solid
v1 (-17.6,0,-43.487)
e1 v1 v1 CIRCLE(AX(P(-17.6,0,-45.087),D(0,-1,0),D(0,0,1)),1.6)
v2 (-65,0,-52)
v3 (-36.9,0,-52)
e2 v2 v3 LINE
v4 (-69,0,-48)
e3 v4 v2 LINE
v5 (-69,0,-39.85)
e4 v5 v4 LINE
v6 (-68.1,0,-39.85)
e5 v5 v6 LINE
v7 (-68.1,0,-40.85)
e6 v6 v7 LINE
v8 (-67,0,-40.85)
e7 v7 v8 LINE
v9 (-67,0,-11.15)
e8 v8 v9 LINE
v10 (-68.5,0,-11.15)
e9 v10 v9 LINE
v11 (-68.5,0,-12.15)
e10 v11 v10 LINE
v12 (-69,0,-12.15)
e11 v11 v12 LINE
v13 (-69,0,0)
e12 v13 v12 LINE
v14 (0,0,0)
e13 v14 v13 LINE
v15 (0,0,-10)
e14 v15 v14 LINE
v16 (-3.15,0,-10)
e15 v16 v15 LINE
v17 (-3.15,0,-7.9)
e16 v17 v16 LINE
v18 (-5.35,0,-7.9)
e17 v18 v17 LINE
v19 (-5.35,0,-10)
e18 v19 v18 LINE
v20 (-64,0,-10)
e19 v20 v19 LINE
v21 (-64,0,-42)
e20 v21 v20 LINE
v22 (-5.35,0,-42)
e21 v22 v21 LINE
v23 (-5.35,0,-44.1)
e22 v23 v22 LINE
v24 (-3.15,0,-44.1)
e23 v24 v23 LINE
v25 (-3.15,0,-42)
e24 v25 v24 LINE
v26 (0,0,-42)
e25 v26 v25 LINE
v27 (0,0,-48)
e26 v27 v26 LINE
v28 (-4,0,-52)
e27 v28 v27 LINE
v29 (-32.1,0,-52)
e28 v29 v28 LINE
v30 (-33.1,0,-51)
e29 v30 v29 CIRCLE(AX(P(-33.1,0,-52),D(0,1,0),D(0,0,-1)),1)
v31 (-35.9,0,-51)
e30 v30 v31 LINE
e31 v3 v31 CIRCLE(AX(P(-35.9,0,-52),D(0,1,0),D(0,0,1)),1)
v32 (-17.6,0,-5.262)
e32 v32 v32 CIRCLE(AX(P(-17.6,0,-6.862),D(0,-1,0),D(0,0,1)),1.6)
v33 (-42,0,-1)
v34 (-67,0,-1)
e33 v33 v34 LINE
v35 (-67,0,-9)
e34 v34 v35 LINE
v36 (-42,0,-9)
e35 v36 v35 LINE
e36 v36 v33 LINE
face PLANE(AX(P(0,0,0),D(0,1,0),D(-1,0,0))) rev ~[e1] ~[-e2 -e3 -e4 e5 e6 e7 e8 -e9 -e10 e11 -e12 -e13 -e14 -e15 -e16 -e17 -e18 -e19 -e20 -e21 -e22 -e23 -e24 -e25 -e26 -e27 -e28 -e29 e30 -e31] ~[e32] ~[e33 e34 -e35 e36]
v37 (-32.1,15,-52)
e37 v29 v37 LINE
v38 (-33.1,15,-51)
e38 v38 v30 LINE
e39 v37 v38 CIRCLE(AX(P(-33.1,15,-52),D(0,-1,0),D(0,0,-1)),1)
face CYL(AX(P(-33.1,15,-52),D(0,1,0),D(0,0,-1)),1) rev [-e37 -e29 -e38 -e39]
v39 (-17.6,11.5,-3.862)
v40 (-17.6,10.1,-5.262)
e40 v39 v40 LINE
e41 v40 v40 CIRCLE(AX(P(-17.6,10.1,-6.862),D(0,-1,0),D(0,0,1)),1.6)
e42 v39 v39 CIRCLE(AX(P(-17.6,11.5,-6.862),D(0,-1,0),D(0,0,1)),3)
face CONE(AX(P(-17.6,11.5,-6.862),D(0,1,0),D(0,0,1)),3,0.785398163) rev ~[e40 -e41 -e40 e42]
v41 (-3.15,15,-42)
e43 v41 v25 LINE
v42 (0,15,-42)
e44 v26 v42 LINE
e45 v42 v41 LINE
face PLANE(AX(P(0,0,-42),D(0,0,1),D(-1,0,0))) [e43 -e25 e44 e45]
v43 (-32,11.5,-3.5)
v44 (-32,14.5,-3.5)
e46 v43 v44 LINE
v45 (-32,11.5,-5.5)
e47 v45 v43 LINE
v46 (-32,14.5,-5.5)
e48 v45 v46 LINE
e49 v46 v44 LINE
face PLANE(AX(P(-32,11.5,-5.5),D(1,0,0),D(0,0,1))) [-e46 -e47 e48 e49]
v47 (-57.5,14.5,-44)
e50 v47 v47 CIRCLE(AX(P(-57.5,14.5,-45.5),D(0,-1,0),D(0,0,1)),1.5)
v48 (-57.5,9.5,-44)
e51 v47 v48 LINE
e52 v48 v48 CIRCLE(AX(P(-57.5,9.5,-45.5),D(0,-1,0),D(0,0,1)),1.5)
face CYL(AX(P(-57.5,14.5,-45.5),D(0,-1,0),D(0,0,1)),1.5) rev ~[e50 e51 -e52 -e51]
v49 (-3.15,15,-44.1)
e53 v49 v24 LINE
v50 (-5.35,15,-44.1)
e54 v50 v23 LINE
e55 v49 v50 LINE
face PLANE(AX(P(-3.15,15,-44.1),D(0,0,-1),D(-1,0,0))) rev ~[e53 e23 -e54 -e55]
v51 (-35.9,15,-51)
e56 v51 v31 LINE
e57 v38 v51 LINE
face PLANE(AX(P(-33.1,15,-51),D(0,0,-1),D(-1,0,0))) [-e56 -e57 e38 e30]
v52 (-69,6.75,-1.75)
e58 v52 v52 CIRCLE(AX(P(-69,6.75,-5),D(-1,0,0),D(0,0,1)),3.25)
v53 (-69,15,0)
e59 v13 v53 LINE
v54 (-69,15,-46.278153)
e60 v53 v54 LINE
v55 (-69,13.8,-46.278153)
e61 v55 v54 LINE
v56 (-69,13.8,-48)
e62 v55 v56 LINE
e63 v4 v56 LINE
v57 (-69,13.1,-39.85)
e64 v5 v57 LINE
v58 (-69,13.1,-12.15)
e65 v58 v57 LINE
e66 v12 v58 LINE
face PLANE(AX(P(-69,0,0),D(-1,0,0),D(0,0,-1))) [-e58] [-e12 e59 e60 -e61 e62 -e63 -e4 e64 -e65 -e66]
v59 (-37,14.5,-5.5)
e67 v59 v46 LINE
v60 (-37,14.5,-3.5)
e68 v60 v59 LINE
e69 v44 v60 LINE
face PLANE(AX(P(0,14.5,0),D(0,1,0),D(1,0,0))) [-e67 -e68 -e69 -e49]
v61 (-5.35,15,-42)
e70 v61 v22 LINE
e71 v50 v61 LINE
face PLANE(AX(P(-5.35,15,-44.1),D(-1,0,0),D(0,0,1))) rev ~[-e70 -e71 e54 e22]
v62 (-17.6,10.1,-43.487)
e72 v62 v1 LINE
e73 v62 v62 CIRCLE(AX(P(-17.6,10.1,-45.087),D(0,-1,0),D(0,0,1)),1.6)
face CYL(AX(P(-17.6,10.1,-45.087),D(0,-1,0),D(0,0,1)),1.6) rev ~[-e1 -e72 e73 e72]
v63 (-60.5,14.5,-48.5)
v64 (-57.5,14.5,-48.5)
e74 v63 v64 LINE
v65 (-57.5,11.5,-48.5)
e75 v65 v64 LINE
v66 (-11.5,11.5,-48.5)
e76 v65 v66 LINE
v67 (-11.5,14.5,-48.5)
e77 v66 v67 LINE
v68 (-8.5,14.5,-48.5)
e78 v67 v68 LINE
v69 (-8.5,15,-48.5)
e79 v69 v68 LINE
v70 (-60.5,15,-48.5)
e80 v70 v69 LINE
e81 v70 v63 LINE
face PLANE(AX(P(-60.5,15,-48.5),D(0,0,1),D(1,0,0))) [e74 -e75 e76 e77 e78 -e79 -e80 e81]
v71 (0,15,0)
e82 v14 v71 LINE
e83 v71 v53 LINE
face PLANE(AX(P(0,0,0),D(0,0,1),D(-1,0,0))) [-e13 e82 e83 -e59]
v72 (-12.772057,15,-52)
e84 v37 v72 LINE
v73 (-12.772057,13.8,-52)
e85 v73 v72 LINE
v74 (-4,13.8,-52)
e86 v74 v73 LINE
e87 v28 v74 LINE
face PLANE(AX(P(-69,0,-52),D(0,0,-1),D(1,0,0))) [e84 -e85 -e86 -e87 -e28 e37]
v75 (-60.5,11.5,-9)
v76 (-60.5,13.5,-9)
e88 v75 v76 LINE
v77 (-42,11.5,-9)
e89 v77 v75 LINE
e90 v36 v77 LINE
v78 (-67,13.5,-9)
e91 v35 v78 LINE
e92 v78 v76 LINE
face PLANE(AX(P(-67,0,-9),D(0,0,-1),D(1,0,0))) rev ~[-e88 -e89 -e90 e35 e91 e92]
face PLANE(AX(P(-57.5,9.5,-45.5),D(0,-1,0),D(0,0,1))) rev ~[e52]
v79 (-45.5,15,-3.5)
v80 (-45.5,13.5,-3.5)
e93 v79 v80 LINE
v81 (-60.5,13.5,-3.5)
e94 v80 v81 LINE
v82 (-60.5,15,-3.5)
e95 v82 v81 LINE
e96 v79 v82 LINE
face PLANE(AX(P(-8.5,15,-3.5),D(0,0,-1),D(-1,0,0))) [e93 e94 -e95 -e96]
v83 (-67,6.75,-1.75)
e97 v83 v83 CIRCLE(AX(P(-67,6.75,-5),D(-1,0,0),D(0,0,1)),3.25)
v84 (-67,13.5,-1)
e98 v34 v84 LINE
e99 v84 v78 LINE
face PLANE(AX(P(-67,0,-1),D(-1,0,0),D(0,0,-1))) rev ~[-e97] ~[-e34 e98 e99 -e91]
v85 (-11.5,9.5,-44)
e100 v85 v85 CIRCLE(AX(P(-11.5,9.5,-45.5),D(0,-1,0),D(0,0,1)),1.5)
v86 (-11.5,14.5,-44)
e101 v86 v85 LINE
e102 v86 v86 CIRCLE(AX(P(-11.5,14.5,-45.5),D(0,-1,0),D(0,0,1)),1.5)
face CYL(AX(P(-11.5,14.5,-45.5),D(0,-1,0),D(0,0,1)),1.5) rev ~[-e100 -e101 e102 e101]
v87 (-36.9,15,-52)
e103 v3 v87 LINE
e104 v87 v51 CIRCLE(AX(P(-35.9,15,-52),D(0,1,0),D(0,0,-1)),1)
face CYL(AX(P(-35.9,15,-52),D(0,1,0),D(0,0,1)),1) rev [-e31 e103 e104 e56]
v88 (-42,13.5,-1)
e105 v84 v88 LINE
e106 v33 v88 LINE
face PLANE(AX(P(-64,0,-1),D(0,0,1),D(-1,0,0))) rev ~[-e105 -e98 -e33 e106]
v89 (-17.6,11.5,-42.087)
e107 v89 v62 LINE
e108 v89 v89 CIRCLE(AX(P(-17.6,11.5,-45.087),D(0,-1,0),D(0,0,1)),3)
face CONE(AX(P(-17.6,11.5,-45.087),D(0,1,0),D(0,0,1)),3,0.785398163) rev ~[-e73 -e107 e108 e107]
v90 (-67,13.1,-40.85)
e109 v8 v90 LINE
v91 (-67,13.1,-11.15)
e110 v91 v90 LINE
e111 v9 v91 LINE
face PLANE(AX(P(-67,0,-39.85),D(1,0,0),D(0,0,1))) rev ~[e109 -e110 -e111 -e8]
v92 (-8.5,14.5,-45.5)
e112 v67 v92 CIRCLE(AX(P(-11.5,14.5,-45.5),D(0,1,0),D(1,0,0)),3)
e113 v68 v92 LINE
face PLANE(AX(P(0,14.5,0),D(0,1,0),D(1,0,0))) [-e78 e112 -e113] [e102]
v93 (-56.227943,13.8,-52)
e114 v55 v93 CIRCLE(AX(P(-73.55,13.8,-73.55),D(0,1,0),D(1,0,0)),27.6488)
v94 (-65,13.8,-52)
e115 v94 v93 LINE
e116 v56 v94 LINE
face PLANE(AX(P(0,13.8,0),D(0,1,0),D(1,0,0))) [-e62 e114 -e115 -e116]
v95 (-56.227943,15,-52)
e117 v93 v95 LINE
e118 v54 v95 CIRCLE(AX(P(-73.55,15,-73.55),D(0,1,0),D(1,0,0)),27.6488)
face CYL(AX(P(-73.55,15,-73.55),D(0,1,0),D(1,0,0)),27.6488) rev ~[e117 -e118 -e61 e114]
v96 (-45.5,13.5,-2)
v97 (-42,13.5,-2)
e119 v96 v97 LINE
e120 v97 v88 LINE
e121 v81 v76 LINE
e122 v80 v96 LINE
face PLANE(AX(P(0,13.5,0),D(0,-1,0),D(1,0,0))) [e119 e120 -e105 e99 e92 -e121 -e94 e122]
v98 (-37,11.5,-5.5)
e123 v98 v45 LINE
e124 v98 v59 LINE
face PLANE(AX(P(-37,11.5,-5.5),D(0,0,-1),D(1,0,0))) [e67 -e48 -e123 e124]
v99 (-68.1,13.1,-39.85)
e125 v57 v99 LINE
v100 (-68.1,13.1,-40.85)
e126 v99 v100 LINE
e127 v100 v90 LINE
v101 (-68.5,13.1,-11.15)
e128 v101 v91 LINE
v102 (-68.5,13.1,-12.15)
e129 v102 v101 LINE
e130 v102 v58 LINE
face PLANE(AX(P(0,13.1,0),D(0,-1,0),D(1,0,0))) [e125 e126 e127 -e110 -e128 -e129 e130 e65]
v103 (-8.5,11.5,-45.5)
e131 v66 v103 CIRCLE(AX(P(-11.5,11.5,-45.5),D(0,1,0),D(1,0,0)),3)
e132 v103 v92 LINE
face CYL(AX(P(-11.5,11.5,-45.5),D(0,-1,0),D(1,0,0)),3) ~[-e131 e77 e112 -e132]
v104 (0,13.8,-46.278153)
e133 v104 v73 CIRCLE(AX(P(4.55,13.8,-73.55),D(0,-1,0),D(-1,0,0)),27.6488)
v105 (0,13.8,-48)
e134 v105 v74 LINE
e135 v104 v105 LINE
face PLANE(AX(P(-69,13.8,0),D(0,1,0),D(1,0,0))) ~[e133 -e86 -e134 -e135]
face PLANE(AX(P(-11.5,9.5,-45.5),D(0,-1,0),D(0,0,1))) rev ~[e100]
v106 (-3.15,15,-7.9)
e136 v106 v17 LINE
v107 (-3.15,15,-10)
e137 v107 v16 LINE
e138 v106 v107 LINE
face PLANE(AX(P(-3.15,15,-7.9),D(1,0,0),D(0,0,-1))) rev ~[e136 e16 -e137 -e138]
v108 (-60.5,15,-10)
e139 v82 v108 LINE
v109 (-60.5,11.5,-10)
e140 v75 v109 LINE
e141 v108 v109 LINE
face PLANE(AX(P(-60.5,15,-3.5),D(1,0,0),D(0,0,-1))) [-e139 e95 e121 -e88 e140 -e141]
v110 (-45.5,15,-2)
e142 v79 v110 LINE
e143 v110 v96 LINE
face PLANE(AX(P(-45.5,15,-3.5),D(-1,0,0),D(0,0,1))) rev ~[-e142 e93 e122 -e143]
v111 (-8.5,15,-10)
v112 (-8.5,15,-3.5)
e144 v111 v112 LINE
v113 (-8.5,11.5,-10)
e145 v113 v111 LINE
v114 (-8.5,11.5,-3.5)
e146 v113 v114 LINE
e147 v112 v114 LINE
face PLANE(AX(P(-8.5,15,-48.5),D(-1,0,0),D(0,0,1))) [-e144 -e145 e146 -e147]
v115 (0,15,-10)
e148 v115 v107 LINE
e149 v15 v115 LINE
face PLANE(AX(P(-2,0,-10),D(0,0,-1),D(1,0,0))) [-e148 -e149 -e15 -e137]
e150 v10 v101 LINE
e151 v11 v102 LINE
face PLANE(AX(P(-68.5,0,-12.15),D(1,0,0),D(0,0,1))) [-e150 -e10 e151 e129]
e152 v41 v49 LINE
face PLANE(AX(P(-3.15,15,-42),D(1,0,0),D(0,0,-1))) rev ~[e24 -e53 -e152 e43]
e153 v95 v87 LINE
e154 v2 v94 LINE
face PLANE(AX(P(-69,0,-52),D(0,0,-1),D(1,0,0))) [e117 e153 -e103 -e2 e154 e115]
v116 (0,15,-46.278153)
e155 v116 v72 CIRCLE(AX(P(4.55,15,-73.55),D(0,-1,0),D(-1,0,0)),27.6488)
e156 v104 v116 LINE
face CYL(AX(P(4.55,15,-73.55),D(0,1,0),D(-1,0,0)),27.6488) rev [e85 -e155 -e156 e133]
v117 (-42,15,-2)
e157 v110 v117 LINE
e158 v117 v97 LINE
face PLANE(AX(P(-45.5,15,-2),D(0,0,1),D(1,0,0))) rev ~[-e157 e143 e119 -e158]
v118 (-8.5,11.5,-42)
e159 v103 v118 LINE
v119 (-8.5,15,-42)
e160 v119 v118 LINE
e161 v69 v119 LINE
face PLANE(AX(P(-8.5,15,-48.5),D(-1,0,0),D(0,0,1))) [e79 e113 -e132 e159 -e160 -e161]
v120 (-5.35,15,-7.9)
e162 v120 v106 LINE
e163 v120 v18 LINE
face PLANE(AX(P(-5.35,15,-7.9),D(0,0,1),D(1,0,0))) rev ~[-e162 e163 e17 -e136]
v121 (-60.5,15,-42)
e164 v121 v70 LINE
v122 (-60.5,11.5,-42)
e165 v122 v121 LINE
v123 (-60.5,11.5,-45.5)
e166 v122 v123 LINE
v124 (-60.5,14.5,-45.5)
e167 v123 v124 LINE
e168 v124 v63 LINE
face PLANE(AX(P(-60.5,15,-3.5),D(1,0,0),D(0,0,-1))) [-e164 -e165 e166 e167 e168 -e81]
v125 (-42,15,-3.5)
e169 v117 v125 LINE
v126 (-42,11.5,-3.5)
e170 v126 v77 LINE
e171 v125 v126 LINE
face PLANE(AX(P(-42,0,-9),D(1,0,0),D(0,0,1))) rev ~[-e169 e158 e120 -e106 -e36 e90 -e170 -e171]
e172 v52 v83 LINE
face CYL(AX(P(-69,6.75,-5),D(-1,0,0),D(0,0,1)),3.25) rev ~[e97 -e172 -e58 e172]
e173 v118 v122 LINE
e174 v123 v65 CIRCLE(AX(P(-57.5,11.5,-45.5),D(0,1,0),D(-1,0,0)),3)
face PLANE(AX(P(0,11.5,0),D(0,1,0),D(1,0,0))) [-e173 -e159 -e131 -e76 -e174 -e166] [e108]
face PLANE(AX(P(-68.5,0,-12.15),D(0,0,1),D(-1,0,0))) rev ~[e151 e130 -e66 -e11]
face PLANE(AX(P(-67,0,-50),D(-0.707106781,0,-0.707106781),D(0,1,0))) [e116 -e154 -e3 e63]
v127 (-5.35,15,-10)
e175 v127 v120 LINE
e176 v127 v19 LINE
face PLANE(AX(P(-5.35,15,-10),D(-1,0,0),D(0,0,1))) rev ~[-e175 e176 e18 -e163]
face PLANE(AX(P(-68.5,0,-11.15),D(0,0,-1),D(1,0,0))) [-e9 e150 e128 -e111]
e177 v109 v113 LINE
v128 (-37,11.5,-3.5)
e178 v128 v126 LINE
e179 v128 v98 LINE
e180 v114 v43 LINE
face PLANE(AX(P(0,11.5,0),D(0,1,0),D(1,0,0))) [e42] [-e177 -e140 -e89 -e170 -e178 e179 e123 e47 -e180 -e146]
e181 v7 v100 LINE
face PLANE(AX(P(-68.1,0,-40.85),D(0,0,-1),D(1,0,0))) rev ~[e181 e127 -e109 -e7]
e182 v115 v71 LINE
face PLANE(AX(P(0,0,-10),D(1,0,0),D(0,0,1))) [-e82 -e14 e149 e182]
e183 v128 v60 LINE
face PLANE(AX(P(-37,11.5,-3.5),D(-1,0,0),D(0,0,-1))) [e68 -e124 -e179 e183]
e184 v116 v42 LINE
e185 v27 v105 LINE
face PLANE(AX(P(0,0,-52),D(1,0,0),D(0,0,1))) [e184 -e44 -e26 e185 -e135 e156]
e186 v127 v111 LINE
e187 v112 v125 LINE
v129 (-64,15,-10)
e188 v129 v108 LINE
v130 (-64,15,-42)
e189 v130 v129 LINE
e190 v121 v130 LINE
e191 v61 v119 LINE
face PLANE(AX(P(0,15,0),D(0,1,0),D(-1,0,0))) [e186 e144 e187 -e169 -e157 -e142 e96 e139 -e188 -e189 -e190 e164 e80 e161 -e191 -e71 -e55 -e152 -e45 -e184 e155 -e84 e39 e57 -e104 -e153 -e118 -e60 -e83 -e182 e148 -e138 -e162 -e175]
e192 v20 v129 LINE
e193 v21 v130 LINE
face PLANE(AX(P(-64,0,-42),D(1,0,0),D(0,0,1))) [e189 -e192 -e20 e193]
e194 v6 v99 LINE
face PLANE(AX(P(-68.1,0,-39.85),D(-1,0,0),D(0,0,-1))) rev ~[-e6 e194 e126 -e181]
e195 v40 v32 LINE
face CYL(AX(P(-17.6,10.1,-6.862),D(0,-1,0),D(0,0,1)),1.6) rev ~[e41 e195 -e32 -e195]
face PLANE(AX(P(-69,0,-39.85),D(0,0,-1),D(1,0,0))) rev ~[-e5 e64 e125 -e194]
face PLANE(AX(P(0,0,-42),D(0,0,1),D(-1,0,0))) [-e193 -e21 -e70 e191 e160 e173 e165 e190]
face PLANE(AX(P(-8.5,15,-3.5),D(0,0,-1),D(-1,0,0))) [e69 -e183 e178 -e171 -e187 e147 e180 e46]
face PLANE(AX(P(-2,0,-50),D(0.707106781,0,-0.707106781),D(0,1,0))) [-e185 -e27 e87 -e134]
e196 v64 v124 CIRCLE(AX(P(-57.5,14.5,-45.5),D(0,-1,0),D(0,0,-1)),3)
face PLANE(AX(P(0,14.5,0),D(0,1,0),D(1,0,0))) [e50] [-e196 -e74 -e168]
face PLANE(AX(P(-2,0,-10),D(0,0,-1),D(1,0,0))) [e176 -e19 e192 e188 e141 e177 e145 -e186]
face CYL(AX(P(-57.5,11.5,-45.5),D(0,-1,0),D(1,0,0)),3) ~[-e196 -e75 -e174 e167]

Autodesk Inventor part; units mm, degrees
ref_plane "YZ Plane" through (0, 0, 0) normal (1, 0, 0) x (0, 1, 0)
ref_plane "XZ Plane" through (0, 0, 0) normal (0, 1, 0) x (-1, 0, 0)
sketch "Эскиз1" plane through (0, 0, 0) normal (0, 1, 0) x (-1, 0, 0)
  line L0 (0, 0) -> (69, 0)
  line L1 (69, 0) -> (69, -52)
  line L2 (69, -52) -> (0, -52)
  line L3 (0, -52) -> (0, 0)
  line L4 (0, -26) -> (32, -26)
  line L5 (64, -10) -> (0, -10)
  line L6 (0, -10) -> (0, -42)
  line L7 (0, -42) -> (64, -42)
  line L8 (64, -42) -> (64, -10)
  line L9 (64, -10) -> (0, -42) construction
  line L10 (0, -10) -> (64, -42) construction
  line L11 (0, -10) -> (2, -10)
  point P0 (0, -10)
  dimension "d0" = 69
  dimension "d224" = 10
  dimension "d225" = 5
  dimension "d226" = 32
extrude "Выдавливание1" add sketch "Эскиз1" along normal blind 15 contours L0 L1 L2 L3 L7 L8 L5
sketch "Эскиз2" plane through (0, 15, 0) normal (0, 1, 0) x (1, 0, 0)
  line L0 (-8.5, 3.5) -> (-60.5, 3.5)
  line L1 (-60.5, 3.5) -> (-60.5, 48.5)
  line L2 (-60.5, 48.5) -> (-8.5, 48.5)
  line L3 (-8.5, 48.5) -> (-8.5, 3.5)
  line L4 (-8.5, 3.5) -> (-60.5, 48.5) construction
  line L5 (-60.5, 3.5) -> (-8.5, 48.5) construction
  line L6 (0, 0) -> (0, 10) projected
  line L7 (-69, 52) -> (-69, 0) projected
  line L8 (0, 52) -> (-69, 52) construction
  line L9 (0, 10) -> (0, 42) construction
  line L10 (-69, 26) -> (0, 26) construction
  point P0 (-34.5, 26)
  point P1 (-34.5, 26)
  point P2 (-60.5, 26)
  point P3 (-34.5, 26)
  dimension "d227" = 52
  dimension "d228" = 45
extrude "Выдавливание2" cut sketch "Эскиз2" against normal blind 3.5
sketch "Эскиз3" plane through (0, 11.5, 0) normal (0, 1, 0) x (1, 0, 0)
  circle A0 centre (-57.5, 45.5) radius 3
  circle A1 centre (-11.5, 45.5) radius 3
  line L0 (-60.5, 48.5) -> (-8.5, 48.5) projected
  line L1 (-8.5, 48.5) -> (-8.5, 42) projected
  line L2 (-8.5, 42) -> (-60.5, 42) projected
  line L3 (-60.5, 42) -> (-60.5, 48.5) projected
  line L4 (-60.5, 10) -> (-8.5, 10) projected
  line L5 (-8.5, 42) -> (-60.5, 42) projected
  line L6 (-8.5, 48.5) -> (-8.5, 42) projected
  line L7 (-60.5, 48.5) -> (-8.5, 48.5) projected
  line L8 (-60.5, 42) -> (-60.5, 48.5) projected
  line L9 (-60.5, 3.5) -> (-60.5, 10) projected
  line L10 (-8.5, 3.5) -> (-60.5, 3.5) projected
  line L11 (-8.5, 10) -> (-8.5, 3.5) projected
  line L12 (0, 10) -> (-64, 10) projected
  line L13 (-8.5, 3.5) -> (-60.5, 3.5) projected
  line L14 (-32, 3.5) -> (-37, 3.5)
  line L15 (-37, 3.5) -> (-37, 5.5)
  line L16 (-37, 5.5) -> (-32, 5.5)
  line L17 (-32, 5.5) -> (-32, 3.5)
  line L18 (-8.5, 3.5) -> (-60.5, 3.5) projected
  point P0 (-38, 39.1)
  point P1 (-60.5, 45.5)
  point P2 (-8.3, 39.1)
  point P3 (-5.8, 45.225)
  point P4 (-57.5, 48.5)
  point P5 (-11.5, 48.5)
  point P6 (-8.5, 42.24)
  point P7 (-8.5, 45.5)
  point P8 (-34.5, 3.5)
  dimension "d236" = 3
  dimension "d237" = 3
  dimension "d238" = 3
  dimension "d239" = 3
  dimension "d240" = 6
  dimension "d241" = 6
  dimension "d304" = 2
  dimension "d305" = 5
extrude "Выдавливание5" add sketch "Эскиз3" along normal blind 3 contours A0 | A0 L3 L0 | L0 L1 A1 | A1 | L15 L16 L17 L10
sketch "Эскиз4" plane through (-71.3, 14.5, -19.65) normal (0, 1, 0) x (0, 0, -1)
  arc A0 (25.85, -10.8) -> (28.85, -13.8) centre (25.85, -13.8) ccw projected
  arc A1 (28.85, -59.8) -> (25.85, -62.8) centre (25.85, -59.8) ccw projected
hole "Отверстие1" at (-57.5, 14.5, -45.5) at (-11.5, 14.5, -45.5) direction (0, -1, 0) diameter 3 depth 5
sketch "Эскиз32" plane through (0, 11.5, 0) normal (0, 1, 0) x (1, 0, 0)
  line L0 (-64, 10) -> (-64, 42) projected
  line L1 (-64, 47.775) -> (-43.5, 47.775) projected
  line L2 (-8.5, 3.5) -> (-60.5, 3.5) projected
  line L3 (-8.5, 10) -> (-8.5, 3.5) projected
  line L4 (-60.5, 48.5) -> (-8.5, 48.5) projected
  line L5 (-8.5, 48.5) -> (-8.5, 42) projected
  point P0 (0, 0)
  point P1 (-17.6, 6.862)
  point P2 (-5.3, 5.3)
  point P3 (-8.3, 2.3)
  point P4 (-64, 4.225)
  point P5 (-17.6, 45.087)
  dimension "d261" = 3.362
  dimension "d263" = 9.1
  dimension "d296" = 3.413
  dimension "d297" = 9.1
hole "Отверстие5" at (-17.6, 11.5, -6.862) at (-17.6, 11.5, -45.087) direction (0, -1, 0) diameter 3.2 end through all countersink diameter 6 countersink angle 90
sketch "Эскиз12" plane through (0, 15, 0) normal (0, -1, 0) x (1, 0, 0)
  line L0 (-60.5, -48.5) -> (-8.5, -48.5) projected
  line L1 (0, -52) -> (-69, -52) projected
  line L2 (-35.9, -52) -> (-33.1, -52) construction
  line L3 (-35.9, -53) -> (-33.1, -53)
  line L4 (-33.1, -51) -> (-35.9, -51)
  arc A0 (-35.9, -51) -> (-35.9, -53) centre (-35.9, -52) ccw
  arc A1 (-33.1, -53) -> (-33.1, -51) centre (-33.1, -52) ccw
  point P0 (-34.5, -52)
  dimension "d302" = 1.4
  dimension "d303" = 2
extrude "Выдавливание11" cut sketch "Эскиз12" along normal through all
sketch "Эскиз34" plane through (0, 15, 0) normal (0, 1, 0) x (1, 0, 0)
  line L0 (-5.35, 7.9) -> (-3.15, 7.9)
  line L1 (-3.15, 7.9) -> (-3.15, 10)
  line L2 (-3.15, 10) -> (-5.35, 10)
  line L3 (-5.35, 10) -> (-5.35, 7.9)
  line L4 (0, 10) -> (-8.5, 10) projected
  line L5 (-5.35, 42) -> (-3.15, 42)
  line L6 (-3.15, 42) -> (-3.15, 44.1)
  line L7 (-3.15, 44.1) -> (-5.35, 44.1)
  line L8 (-5.35, 44.1) -> (-5.35, 42)
  line L9 (-8.5, 42) -> (0, 42) projected
  point P0 (0, 0)
  point P1 (-4.25, 10)
  point P2 (-4.25, 42)
  dimension "d278" = 2.2
  dimension "d279" = 2.1
extrude "Выдавливание27" cut sketch "Эскиз34" against normal through all
sketch "Эскиз36" plane through (0, 0, 0) normal (0, -1, 0) x (1, 0, 0)
  line L0 (-64, -10) -> (-64, 0)
  line L1 (-69, 0) -> (0, 0) projected
  line L2 (-67, -9) -> (-42, -9)
  line L3 (-42, -9) -> (-42, -1)
  line L4 (-42, -1) -> (-67, -1)
  line L5 (-67, -1) -> (-67, -9)
  line L6 (-69, -52) -> (-69, 0) projected
  point P0 (-67, -5)
  point P1 (-64, -5)
  dimension "d285" = 2
  dimension "d286" = 8
  dimension "d287" = 25
extrude "Выдавливание29" cut sketch "Эскиз36" against normal blind 13.5
sketch "Эскиз37" plane through (-69, 0, -52) normal (-1, 0, 0) x (0, 0, 1)
  line L0 (43, 0) -> (51, 0) projected
  line L1 (43, 0) -> (43, 13.5) projected
  line L2 (43, 13.5) -> (51, 13.5) projected
  line L3 (51, 0) -> (51, 13.5) projected
  line L4 (43, 0) -> (43, 13.5) construction
  line L5 (43, 6.75) -> (51, 6.75) construction
  line L6 (51, 0) -> (51, 13.5) construction
  circle A0 centre (47, 6.75) radius 3.25
  point P0 (52, 0)
  dimension "d290" = 6.5
extrude "Выдавливание30" cut sketch "Эскиз37" against normal up to surface (2 mm away) contours A0
sketch "Эскиз38" plane through (0, 15, 0) normal (0, 1, 0) x (1, 0, 0)
  line L0 (-42, 3.5) -> (-45.5, 3.5)
  line L1 (-45.5, 3.5) -> (-45.5, 2)
  line L2 (-45.5, 2) -> (-42, 2)
  line L3 (-42, 2) -> (-42, 3.5)
  line L4 (-69, 0) -> (0, 0) projected
  line L5 (-42, 9) -> (-42, 3.5) projected
  dimension "d293" = 3.5
  dimension "d301" = 1.5
extrude "Выдавливание31" cut sketch "Эскиз38" against normal up to surface (1.5 mm away)
sketch "Эскиз30" plane through (0, 0, 0) normal (0, -1, 0) x (1, 0, 0)
  line L0 (-69, -39.85) -> (-67, -39.85)
  line L1 (-67, -39.85) -> (-67, -12.15)
  line L2 (-67, -12.15) -> (-69, -12.15)
  line L3 (-69, -12.15) -> (-69, -39.85)
  line L4 (-69, -52) -> (-69, 0) projected
  line L5 (-67, -39.85) -> (-68.1, -39.85)
  line L6 (-68.1, -39.85) -> (-68.1, -40.85)
  line L7 (-68.1, -40.85) -> (-67, -40.85)
  line L8 (-67, -40.85) -> (-67, -39.85)
  line L9 (-67, -12.15) -> (-68.5, -12.15)
  line L10 (-68.5, -12.15) -> (-68.5, -11.15)
  line L11 (-68.5, -11.15) -> (-67, -11.15)
  line L12 (-67, -11.15) -> (-67, -12.15)
  point P0 (0, 0)
  point P1 (-69, -26)
  point P2 (-68.5, -12.15)
  point P3 (-68.1, -39.85)
  dimension "d216" = 27.7
  dimension "d217" = 2
  dimension "d218" = 1.1
  dimension "d219" = 1
  dimension "d220" = 1.5
  dimension "d221" = 1
extrude "Выдавливание24" cut sketch "Эскиз30" against normal blind 13.1
chamfer "Фаска7" distance 4 angle 45 2 edges at (0, 7.5, -52) (-69, 7.5, -52)
sketch "Эскиз39" plane through (0, 15, 0) normal (0, 1, 0) x (1, 0, 0)
  line L0 (-69, 48) -> (-69, 0) construction
  line L1 (-69, 48) -> (-69, 73.55) construction
  line L2 (-69, 73.55) -> (-73.55, 73.55) construction
  line L3 (-73.55, 73.55) -> (-64.1507, 51.55) construction
  line L4 (-64.1507, 51.55) -> (-62.6872, 48.1245) construction
  circle A0 centre (-73.55, 73.55) radius 27.6488
  point P0 (0, 0)
  dimension "d316" = 25.55
  dimension "d317" = 4.55
  dimension "d319" = 22
  dimension "d320" = 3.725
  dimension "d321" = 23.134
extrude "Выдавливание32" cut sketch "Эскиз39" against normal blind 1.2
ref_plane "РабПлоскость7" through (-34.5, 0, 0) normal (-1, 0, 0) x (0, 0, 1)
mirror "Зеркальное отражение2" about plane through (-34.5, 0, 0) normal (-1, 0, 0) of "Выдавливание32"
properties part number "Стойка под электроннику"
